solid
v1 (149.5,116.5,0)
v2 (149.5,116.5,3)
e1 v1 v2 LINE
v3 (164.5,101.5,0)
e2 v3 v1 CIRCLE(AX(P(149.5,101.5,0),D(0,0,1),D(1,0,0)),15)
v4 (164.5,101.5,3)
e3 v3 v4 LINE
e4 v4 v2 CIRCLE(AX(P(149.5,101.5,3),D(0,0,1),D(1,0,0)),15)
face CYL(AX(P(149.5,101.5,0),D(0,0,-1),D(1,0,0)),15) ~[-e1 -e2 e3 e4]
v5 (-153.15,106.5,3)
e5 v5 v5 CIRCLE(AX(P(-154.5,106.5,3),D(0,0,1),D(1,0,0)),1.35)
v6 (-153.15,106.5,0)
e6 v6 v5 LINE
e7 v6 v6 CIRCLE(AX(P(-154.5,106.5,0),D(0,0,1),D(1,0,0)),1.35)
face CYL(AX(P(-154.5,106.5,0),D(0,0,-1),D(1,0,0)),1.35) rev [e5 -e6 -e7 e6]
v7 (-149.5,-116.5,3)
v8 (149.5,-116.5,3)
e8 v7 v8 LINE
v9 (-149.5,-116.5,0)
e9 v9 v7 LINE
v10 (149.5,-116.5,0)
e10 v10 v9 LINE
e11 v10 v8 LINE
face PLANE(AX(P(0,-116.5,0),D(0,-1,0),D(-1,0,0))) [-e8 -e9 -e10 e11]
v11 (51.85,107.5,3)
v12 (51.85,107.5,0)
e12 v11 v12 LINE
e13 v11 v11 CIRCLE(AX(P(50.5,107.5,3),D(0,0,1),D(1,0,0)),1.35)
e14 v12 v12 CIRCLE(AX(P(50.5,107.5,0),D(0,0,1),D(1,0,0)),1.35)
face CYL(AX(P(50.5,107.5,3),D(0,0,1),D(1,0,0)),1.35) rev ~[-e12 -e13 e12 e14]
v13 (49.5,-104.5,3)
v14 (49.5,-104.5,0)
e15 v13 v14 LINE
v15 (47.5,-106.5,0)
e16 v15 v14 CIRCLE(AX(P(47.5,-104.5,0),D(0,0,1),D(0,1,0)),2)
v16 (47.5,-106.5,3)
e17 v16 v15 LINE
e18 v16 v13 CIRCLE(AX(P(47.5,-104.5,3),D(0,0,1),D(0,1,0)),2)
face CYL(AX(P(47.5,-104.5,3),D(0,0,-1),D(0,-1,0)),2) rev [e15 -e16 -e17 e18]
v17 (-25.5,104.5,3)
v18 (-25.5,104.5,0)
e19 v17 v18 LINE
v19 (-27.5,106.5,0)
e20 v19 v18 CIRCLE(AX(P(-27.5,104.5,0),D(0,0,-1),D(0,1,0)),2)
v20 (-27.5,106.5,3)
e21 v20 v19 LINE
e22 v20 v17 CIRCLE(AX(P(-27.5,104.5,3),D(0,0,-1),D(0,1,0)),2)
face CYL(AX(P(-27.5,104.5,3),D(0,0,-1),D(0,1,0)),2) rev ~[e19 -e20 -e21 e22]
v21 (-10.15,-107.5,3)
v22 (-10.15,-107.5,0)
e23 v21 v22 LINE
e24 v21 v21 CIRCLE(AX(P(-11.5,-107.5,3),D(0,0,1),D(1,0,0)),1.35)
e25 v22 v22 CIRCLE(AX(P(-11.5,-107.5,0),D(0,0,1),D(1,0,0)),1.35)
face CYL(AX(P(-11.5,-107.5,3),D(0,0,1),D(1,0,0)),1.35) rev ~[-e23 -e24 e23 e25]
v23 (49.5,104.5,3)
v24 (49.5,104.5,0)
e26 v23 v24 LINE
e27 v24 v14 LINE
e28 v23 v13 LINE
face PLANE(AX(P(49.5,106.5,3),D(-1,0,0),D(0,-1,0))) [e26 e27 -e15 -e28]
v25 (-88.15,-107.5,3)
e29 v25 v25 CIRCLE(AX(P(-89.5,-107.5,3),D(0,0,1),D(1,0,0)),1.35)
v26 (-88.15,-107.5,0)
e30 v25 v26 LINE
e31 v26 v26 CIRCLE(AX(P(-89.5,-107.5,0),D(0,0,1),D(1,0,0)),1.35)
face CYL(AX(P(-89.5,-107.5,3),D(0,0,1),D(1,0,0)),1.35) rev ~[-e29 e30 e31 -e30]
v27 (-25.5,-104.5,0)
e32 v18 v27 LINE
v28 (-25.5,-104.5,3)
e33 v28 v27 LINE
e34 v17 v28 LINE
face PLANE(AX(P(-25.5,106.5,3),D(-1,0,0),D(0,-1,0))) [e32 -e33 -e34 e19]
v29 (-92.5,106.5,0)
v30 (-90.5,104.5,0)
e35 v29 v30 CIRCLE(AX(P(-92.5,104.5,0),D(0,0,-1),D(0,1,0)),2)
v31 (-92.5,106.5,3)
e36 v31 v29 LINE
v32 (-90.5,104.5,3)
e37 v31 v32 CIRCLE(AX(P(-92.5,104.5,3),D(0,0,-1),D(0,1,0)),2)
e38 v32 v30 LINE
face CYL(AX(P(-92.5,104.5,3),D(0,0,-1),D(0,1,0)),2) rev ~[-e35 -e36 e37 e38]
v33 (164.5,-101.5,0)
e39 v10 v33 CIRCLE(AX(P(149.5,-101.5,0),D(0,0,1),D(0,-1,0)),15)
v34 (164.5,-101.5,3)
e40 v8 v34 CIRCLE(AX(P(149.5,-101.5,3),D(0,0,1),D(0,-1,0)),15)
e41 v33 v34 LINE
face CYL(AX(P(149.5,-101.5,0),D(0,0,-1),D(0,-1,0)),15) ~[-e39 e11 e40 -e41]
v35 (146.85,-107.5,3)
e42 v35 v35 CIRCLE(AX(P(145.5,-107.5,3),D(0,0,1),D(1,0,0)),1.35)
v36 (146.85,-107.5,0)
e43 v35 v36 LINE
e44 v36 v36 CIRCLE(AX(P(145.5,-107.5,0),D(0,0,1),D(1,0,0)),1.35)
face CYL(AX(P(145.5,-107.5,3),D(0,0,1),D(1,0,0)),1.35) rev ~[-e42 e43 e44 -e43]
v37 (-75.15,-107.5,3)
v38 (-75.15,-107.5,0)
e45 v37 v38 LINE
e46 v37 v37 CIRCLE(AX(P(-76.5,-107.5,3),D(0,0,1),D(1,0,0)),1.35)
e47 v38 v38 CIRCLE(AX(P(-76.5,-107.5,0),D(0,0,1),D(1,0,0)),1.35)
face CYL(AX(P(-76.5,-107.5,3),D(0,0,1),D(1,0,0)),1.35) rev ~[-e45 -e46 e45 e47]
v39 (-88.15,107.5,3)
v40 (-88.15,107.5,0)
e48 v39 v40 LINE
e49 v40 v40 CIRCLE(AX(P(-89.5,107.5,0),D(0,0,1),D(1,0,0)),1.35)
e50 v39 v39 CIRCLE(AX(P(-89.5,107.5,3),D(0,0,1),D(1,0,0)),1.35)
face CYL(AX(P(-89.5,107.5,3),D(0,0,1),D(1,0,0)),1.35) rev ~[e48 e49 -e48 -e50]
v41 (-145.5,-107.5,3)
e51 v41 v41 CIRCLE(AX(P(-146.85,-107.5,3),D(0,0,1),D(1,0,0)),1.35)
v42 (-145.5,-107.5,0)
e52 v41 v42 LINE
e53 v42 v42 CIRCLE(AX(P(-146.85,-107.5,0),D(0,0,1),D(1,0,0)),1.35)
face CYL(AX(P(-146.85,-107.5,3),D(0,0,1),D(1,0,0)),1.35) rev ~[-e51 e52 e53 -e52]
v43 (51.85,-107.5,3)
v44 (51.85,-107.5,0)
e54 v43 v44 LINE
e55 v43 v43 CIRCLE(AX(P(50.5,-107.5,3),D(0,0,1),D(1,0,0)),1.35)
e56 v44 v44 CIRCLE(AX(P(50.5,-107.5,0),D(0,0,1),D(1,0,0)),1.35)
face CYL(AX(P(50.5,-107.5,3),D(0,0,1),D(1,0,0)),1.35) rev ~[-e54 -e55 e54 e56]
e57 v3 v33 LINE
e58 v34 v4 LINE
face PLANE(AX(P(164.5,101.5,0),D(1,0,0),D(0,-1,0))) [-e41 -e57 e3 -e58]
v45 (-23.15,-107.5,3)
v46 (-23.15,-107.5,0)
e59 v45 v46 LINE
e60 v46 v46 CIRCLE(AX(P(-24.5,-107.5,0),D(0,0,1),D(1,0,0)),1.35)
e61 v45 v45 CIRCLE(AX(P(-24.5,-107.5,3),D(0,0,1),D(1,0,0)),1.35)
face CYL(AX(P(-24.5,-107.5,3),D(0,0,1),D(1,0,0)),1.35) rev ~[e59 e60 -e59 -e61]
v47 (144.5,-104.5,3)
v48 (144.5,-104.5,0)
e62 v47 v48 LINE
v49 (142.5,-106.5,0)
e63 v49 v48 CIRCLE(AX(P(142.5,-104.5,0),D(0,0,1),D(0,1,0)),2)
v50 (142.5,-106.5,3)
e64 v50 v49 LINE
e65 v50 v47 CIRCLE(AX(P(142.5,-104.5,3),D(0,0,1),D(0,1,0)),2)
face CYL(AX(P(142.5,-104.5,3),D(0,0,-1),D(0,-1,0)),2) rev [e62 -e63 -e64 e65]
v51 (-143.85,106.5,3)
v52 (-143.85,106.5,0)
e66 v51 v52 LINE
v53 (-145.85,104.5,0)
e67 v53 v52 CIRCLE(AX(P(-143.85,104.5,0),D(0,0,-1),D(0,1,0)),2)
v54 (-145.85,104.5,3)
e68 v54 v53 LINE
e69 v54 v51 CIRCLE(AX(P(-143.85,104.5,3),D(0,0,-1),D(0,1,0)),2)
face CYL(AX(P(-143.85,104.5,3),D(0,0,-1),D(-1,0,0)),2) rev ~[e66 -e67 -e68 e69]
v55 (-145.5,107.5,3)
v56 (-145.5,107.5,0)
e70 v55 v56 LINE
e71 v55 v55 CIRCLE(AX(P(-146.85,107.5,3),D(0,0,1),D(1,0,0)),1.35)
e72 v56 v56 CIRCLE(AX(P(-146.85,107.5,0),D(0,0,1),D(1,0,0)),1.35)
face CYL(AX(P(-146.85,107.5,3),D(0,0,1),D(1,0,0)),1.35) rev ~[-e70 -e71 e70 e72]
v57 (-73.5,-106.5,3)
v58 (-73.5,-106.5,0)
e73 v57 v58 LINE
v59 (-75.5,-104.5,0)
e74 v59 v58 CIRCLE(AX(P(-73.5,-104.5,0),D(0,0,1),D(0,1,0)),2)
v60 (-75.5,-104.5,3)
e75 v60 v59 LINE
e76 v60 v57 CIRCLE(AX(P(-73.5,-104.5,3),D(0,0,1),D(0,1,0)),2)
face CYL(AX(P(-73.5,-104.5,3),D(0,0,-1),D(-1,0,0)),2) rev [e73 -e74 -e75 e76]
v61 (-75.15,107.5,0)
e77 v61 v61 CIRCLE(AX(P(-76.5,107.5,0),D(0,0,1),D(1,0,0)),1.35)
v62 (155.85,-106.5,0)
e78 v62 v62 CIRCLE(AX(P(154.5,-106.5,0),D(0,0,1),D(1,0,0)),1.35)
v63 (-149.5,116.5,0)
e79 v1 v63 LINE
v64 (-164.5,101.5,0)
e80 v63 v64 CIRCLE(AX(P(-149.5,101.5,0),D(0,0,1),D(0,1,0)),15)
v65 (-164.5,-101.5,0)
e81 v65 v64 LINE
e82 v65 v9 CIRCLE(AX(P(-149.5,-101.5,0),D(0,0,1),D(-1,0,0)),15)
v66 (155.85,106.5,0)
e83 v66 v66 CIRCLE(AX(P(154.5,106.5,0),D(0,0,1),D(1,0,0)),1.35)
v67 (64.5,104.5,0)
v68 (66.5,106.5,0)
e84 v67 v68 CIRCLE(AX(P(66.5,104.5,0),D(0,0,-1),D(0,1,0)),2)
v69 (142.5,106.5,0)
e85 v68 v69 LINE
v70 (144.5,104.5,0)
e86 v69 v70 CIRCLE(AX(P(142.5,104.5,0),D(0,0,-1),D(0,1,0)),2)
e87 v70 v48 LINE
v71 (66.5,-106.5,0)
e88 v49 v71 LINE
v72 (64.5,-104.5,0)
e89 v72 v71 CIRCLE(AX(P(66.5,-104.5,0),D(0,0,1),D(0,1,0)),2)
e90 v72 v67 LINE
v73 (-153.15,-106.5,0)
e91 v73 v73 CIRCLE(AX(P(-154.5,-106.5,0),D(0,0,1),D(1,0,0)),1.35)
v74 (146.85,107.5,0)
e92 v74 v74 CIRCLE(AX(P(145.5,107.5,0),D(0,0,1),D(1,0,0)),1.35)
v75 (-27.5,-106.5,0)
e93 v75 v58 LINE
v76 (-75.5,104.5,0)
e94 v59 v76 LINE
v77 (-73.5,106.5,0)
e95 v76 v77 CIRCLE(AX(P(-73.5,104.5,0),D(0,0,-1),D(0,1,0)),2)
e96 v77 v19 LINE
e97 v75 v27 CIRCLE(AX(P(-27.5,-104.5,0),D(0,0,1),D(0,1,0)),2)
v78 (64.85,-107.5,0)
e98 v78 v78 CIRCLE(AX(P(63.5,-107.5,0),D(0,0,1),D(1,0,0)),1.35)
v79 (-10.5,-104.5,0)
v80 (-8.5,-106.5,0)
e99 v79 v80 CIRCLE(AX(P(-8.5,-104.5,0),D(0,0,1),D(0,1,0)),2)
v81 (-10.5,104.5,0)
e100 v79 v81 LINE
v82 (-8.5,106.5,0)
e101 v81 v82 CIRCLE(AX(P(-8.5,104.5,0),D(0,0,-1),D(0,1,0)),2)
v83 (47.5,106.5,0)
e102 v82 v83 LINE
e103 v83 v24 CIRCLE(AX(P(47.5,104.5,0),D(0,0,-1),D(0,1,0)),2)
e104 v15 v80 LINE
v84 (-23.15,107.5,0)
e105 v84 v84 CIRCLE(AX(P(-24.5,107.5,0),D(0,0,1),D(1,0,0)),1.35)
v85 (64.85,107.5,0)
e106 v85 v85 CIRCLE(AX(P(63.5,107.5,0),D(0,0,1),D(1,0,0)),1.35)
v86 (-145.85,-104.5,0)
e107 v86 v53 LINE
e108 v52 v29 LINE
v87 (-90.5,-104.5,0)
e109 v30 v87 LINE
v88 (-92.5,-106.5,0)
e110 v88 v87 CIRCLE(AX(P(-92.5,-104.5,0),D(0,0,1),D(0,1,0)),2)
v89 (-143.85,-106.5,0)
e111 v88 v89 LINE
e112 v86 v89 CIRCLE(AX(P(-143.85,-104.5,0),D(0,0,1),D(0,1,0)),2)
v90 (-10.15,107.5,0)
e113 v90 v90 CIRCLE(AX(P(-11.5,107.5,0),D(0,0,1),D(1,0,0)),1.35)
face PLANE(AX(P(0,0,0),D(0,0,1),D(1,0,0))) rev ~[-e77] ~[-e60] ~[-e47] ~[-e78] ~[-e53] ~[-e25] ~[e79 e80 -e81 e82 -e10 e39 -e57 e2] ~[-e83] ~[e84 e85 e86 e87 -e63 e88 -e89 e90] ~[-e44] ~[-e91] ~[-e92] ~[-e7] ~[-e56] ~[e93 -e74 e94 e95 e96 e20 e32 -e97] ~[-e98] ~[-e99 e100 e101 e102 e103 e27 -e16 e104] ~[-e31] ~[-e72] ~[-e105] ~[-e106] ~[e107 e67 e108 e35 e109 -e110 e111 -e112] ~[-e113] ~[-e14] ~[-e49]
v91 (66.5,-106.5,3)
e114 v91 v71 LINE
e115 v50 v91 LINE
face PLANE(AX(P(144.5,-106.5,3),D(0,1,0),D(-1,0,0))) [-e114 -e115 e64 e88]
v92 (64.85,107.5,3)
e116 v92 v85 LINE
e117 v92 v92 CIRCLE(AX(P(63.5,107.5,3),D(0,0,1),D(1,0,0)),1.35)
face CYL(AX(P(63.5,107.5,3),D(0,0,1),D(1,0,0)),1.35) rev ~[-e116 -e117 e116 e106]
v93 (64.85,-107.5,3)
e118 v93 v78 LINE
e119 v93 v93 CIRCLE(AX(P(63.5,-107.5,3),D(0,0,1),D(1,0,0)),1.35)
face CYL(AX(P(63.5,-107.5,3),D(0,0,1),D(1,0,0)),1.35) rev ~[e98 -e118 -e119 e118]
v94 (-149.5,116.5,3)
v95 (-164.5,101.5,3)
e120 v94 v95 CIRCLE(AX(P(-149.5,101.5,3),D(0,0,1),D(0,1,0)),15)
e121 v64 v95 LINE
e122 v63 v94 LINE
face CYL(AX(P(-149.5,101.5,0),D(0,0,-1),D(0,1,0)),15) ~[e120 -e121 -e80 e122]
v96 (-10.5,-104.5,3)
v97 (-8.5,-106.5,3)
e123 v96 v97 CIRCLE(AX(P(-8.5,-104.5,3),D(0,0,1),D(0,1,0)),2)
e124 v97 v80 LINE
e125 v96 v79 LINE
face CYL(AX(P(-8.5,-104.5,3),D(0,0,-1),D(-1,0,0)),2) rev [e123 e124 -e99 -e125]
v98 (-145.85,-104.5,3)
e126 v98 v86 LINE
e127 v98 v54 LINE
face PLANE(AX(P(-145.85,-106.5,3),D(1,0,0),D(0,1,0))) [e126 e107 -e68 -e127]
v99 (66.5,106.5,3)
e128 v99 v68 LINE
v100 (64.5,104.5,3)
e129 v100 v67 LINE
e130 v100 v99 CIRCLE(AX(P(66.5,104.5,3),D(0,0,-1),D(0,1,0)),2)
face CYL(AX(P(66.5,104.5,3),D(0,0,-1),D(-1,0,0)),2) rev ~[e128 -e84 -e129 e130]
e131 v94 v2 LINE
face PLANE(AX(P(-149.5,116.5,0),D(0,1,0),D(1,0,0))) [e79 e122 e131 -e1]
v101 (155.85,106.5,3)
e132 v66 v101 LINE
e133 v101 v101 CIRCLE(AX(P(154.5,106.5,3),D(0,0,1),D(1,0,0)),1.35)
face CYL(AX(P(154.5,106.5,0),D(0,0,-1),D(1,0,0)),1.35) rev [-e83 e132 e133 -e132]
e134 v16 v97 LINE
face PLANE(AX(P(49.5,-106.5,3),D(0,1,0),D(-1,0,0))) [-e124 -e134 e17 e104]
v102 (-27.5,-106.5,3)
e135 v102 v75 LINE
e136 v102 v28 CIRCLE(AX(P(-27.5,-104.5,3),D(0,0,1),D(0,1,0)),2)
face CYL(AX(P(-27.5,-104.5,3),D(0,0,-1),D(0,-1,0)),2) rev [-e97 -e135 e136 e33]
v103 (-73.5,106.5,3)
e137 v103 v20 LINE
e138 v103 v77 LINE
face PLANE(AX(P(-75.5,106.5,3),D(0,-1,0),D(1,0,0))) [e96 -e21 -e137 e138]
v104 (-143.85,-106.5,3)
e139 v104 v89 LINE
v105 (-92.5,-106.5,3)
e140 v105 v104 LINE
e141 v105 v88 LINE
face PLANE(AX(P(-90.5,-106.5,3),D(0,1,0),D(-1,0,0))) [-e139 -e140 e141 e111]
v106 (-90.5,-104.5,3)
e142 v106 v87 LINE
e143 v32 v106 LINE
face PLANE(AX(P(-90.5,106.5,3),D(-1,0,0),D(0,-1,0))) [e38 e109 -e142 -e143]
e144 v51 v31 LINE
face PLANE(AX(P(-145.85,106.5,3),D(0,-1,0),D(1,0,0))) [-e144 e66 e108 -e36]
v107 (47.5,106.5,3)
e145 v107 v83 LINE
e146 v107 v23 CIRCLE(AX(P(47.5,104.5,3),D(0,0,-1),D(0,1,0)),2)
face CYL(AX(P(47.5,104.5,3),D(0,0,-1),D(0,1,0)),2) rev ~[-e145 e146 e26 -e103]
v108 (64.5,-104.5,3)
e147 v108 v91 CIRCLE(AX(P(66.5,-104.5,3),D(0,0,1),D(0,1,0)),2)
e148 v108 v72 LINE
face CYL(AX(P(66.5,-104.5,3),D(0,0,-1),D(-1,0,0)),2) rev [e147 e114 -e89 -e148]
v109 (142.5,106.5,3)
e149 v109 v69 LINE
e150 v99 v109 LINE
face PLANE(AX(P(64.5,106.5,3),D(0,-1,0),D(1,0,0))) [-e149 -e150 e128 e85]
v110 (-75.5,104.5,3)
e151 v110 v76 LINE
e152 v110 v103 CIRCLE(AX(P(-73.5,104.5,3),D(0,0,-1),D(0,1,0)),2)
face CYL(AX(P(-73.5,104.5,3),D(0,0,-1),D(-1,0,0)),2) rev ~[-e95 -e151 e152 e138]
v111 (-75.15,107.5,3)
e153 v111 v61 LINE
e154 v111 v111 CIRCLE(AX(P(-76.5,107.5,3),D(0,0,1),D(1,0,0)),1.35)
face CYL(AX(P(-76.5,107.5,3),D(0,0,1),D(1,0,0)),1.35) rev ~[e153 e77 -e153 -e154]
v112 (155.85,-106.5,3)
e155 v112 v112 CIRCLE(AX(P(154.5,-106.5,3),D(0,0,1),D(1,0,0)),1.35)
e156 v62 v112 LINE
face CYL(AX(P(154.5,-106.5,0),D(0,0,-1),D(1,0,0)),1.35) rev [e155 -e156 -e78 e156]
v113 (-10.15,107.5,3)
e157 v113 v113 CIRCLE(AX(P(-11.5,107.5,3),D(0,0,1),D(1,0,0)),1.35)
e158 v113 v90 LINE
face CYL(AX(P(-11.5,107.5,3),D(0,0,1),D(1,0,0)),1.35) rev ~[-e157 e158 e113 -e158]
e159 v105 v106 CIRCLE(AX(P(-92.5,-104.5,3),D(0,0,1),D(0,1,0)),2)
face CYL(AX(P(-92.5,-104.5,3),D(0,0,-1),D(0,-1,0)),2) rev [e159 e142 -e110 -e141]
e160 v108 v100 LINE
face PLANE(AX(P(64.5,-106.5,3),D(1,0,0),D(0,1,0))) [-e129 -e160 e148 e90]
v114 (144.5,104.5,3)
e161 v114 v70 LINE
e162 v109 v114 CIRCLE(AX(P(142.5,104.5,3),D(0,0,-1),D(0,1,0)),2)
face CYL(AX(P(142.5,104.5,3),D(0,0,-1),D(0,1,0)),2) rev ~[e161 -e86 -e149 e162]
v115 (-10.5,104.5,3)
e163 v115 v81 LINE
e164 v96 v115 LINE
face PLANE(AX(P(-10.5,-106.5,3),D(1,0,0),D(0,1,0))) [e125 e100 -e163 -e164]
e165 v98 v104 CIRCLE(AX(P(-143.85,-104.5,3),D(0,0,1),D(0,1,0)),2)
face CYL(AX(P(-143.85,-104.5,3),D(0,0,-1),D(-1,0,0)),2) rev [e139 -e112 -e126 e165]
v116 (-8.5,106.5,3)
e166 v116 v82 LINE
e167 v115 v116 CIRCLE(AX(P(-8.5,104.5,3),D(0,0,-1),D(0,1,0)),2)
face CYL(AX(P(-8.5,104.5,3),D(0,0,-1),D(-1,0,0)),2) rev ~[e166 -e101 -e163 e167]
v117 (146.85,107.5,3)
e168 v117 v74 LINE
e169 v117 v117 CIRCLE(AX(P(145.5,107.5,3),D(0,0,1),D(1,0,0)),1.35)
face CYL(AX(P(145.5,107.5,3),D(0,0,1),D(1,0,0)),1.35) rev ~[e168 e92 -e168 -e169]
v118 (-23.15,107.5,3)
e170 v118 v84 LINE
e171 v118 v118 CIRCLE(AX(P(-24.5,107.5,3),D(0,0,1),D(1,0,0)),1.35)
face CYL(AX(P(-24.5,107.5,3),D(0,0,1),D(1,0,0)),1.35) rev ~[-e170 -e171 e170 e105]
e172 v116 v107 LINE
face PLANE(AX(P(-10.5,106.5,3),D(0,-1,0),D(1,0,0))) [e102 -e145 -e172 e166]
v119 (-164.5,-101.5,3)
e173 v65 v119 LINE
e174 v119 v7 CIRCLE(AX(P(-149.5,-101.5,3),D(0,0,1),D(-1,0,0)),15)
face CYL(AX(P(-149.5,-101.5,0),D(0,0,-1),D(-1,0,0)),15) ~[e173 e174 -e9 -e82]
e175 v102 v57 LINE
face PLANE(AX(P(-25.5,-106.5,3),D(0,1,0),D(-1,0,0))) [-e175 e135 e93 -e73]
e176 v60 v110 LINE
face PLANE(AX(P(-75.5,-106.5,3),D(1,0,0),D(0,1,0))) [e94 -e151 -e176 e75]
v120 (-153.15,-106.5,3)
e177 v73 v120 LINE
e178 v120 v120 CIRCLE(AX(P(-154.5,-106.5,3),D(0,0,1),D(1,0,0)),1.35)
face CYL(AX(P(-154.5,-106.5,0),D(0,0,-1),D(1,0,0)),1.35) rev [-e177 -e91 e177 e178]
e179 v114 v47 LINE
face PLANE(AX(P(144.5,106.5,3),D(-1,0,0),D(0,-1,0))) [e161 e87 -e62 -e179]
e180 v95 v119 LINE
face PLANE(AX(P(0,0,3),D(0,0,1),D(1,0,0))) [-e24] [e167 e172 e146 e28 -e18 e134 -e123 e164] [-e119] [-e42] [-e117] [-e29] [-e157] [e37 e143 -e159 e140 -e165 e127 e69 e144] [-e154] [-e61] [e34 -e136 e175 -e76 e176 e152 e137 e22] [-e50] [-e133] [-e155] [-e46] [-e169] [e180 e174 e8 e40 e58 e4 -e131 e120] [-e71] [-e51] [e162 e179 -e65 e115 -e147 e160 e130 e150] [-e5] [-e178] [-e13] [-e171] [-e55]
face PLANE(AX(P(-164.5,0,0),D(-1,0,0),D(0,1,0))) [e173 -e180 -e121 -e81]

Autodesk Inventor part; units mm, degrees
ref_plane "YZ Plane" through (0, 0, 0) normal (1, 0, 0) x (0, 1, 0)
ref_plane "XZ Plane" through (0, 0, 0) normal (0, 1, 0) x (-1, 0, 0)
ref_plane "XY Plane" through (0, 0, 0) normal (0, 0, 1) x (1, 0, 0)
sketch "Эскиз1" plane through (0, 0, 0) normal (0, 0, 1) x (1, 0, 0)
  line L0 (-149.5, 116.5) -> (149.5, 116.5)
  line L1 (164.5, 101.5) -> (164.5, -101.5)
  line L2 (149.5, -116.5) -> (-149.5, -116.5)
  line L3 (-164.5, -101.5) -> (-164.5, 101.5)
  line L4 (0, -167.4492) -> (0, 167.4492) projected
  line L5 (-234.6492, 0) -> (234.6492, 0) projected
  arc A0 (-149.5, 116.5) -> (-164.5, 101.5) centre (-149.5, 101.5) ccw
  arc A1 (164.5, 101.5) -> (149.5, 116.5) centre (149.5, 101.5) ccw
  arc A2 (149.5, -116.5) -> (164.5, -101.5) centre (149.5, -101.5) ccw
  arc A3 (-164.5, -101.5) -> (-149.5, -116.5) centre (-149.5, -101.5) ccw
  circle A4 centre (-154.5, 106.5) radius 1.35
  circle A5 centre (154.5, 106.5) radius 1.35
  circle A6 centre (154.5, -106.5) radius 1.35
  circle A7 centre (-154.5, -106.5) radius 1.35
  point P0 (0, 0)
  dimension "d0" = 329
  dimension "d1" = 233
  dimension "d2" = 15
  dimension "d3" = 2.7
  dimension "d4" = 2.7
  dimension "d5" = 2.7
  dimension "d6" = 2.7
  dimension "d7" = 5
  dimension "d8" = 5
  dimension "d9" = 5
  dimension "d10" = 5
  dimension "d11" = 5
  dimension "d12" = 5
  dimension "d13" = 5
  dimension "d14" = 5
extrude "Выдавливание1" add sketch "Эскиз1" along normal blind 3
sketch "Эскиз2" plane through (0, 0, 3) normal (0, 0, 1) x (1, 0, 0)
  line L0 (149.5, 110.5) -> (59.5, 110.5)
  line L1 (59.5, 110.5) -> (59.5, -111.5)
  line L2 (59.5, -111.5) -> (149.5, -111.5)
  line L3 (149.5, -111.5) -> (149.5, 110.5)
  line L4 (54.5, 110.5) -> (-15.5, 110.5)
  line L5 (-15.5, 110.5) -> (-15.5, -111.5)
  line L6 (-15.5, -111.5) -> (54.5, -111.5)
  line L7 (54.5, -111.5) -> (54.5, 110.5)
  line L8 (-20.5, 110.5) -> (-80.5, 110.5)
  line L9 (-80.5, 110.5) -> (-80.5, -111.5)
  line L10 (-80.5, -111.5) -> (-20.5, -111.5)
  line L11 (-20.5, -111.5) -> (-20.5, 110.5)
  circle A0 centre (154.5, 106.5) radius 1.35 projected
  line L12 (-85.5, 110.5) -> (-150.85, 110.5)
  line L13 (-150.85, 110.5) -> (-150.85, -111.5)
  line L14 (-150.85, -111.5) -> (-85.5, -111.5)
  line L15 (-85.5, -111.5) -> (-85.5, 110.5)
  circle A1 centre (-154.5, 106.5) radius 1.35 projected
  line L16 (-149.5, -116.5) -> (149.5, -116.5) projected
  line L17 (149.5, 116.5) -> (-149.5, 116.5) projected
  line L18 (-145.85, 106.5) -> (-90.5, 106.5)
  line L19 (-90.5, 106.5) -> (-90.5, -106.5)
  line L20 (-90.5, -106.5) -> (-145.85, -106.5)
  line L21 (-145.85, -106.5) -> (-145.85, 106.5)
  line L22 (-75.5, 106.5) -> (-25.5, 106.5)
  line L23 (-25.5, 106.5) -> (-25.5, -106.5)
  line L24 (-25.5, -106.5) -> (-75.5, -106.5)
  line L25 (-75.5, -106.5) -> (-75.5, 106.5)
  line L26 (-10.5, 106.5) -> (49.5, 106.5)
  line L27 (49.5, 106.5) -> (49.5, -106.5)
  line L28 (49.5, -106.5) -> (-10.5, -106.5)
  line L29 (-10.5, -106.5) -> (-10.5, 106.5)
  line L30 (64.5, 106.5) -> (144.5, 106.5)
  line L31 (144.5, 106.5) -> (144.5, -106.5)
  line L32 (144.5, -106.5) -> (64.5, -106.5)
  line L33 (64.5, -106.5) -> (64.5, 106.5)
  point P0 (0, 0)
  point P1 (19.5, -106.5)
  dimension "d18" = 70
  dimension "d19" = 60
  dimension "d20" = 5
  dimension "d21" = 5
  dimension "d22" = 5
  dimension "d23" = 90
  dimension "d25" = 5
  dimension "d26" = 5
  dimension "d27" = 5
  dimension "d29" = 6
  dimension "d30" = 4
  dimension "d31" = 5
  dimension "d32" = 5
  dimension "d33" = 5
  dimension "d34" = 5
  dimension "d35" = 5
  dimension "d36" = 5
  dimension "d37" = 5
  dimension "d38" = 5
  dimension "d39" = 5
  dimension "d40" = 5
  dimension "d41" = 5
  dimension "d42" = 5
extrude "Выдавливание2" cut sketch "Эскиз2" against normal blind 3 contours L18 L19 L20 L21 | L22 L23 L24 L25 | L26 L27 L28 L29 | L30 L31 L32 L33
sketch "Эскиз3" plane through (0, 0, 3) normal (0, 0, 1) x (1, 0, 0)
  circle A0 centre (-146.85, 107.5) radius 1.35
  circle A1 centre (-89.5, 107.5) radius 1.35
  circle A2 centre (-146.85, -107.5) radius 1.35
  circle A3 centre (-89.5, -107.5) radius 1.35
  line L0 (-145.85, -106.5) -> (-145.85, 106.5) projected
  line L1 (-145.85, 106.5) -> (-90.5, 106.5) projected
  line L2 (-90.5, 106.5) -> (-90.5, -106.5) projected
  line L3 (-90.5, -106.5) -> (-145.85, -106.5) projected
  circle A4 centre (-76.5, -107.5) radius 1.35
  circle A5 centre (-24.5, -107.5) radius 1.35
  circle A6 centre (-76.5, 107.5) radius 1.35
  circle A7 centre (-24.5, 107.5) radius 1.35
  circle A8 centre (-11.5, 107.5) radius 1.35
  circle A9 centre (-11.5, -107.5) radius 1.35
  circle A10 centre (50.5, -107.5) radius 1.35
  circle A11 centre (50.5, 107.5) radius 1.35
  line L4 (-75.5, -106.5) -> (-75.5, 106.5) projected
  line L5 (-75.5, 106.5) -> (-25.5, 106.5) projected
  line L6 (-25.5, 106.5) -> (-25.5, -106.5) projected
  line L7 (-25.5, -106.5) -> (-75.5, -106.5) projected
  line L8 (-10.5, -106.5) -> (-10.5, 106.5) projected
  line L9 (-10.5, 106.5) -> (49.5, 106.5) projected
  line L10 (49.5, 106.5) -> (49.5, -106.5) projected
  line L11 (49.5, -106.5) -> (-10.5, -106.5) projected
  circle A12 centre (63.5, 107.5) radius 1.35
  circle A13 centre (63.5, -107.5) radius 1.35
  circle A14 centre (145.5, -107.5) radius 1.35
  circle A15 centre (145.5, 107.5) radius 1.35
  line L12 (64.5, -106.5) -> (64.5, 106.5) projected
  line L13 (64.5, 106.5) -> (144.5, 106.5) projected
  line L14 (144.5, 106.5) -> (144.5, -106.5) projected
  line L15 (144.5, -106.5) -> (64.5, -106.5) projected
  point P0 (0, 0)
  dimension "d45" = 2.7
  dimension "d46" = 2.7
  dimension "d47" = 2.7
  dimension "d48" = 2.7
  dimension "d49" = 1
  dimension "d51" = 1
  dimension "d52" = 1
  dimension "d53" = 1
  dimension "d54" = 1
  dimension "d55" = 1
  dimension "d56" = 1
  dimension "d57" = 1
  dimension "d58" = 2.7
  dimension "d59" = 2.7
  dimension "d60" = 2.7
  dimension "d61" = 2.7
  dimension "d62" = 2.7
  dimension "d63" = 2.7
  dimension "d64" = 2.7
  dimension "d65" = 2.7
  dimension "d66" = 1
  dimension "d67" = 1
  dimension "d68" = 1
  dimension "d69" = 1
  dimension "d70" = 1
  dimension "d71" = 1
  dimension "d72" = 1
  dimension "d73" = 1
  dimension "d74" = 1
  dimension "d75" = 1
  dimension "d76" = 1
  dimension "d77" = 1
  dimension "d78" = 1
  dimension "d79" = 1
  dimension "d80" = 1
  dimension "d81" = 1
  dimension "d82" = 2.7
  dimension "d83" = 2.7
  dimension "d84" = 2.7
  dimension "d85" = 2.7
  dimension "d86" = 1
  dimension "d87" = 1
  dimension "d88" = 1
  dimension "d89" = 1
  dimension "d90" = 1
  dimension "d91" = 1
  dimension "d92" = 1
  dimension "d93" = 1
extrude "Выдавливание3" cut sketch "Эскиз3" against normal blind 10 contours A0 | A1 | A2 | A3 | A4 | A5 | A6 | A7 | A8 | A9 | A10 | A11 | A12 | A13 | A14 | A15
fillet "Сопряжение1" radius 2 1 edges at (64.5, 106.5, 1.5)
fillet "Сопряжение2" radius 2 5 edges at (144.5, 106.5, 1.5) (64.5, -106.5, 1.5) (144.5, -106.5, 1.5) (49.5, -106.5, 1.5) (-10.5, -106.5, 1.5)
fillet "Сопряжение3" radius 2 6 edges at (-10.5, 106.5, 1.5) (49.5, 106.5, 1.5) (-25.5, 106.5, 1.5) (-75.5, 106.5, 1.5) (-25.5, -106.5, 1.5) (-75.5, -106.5, 1.5)
fillet "Сопряжение4" radius 2 4 edges at (-145.85, -106.5, 1.5) (-90.5, -106.5, 1.5) (-90.5, 106.5, 1.5) (-145.85, 106.5, 1.5)
properties part number "рамка насу"
